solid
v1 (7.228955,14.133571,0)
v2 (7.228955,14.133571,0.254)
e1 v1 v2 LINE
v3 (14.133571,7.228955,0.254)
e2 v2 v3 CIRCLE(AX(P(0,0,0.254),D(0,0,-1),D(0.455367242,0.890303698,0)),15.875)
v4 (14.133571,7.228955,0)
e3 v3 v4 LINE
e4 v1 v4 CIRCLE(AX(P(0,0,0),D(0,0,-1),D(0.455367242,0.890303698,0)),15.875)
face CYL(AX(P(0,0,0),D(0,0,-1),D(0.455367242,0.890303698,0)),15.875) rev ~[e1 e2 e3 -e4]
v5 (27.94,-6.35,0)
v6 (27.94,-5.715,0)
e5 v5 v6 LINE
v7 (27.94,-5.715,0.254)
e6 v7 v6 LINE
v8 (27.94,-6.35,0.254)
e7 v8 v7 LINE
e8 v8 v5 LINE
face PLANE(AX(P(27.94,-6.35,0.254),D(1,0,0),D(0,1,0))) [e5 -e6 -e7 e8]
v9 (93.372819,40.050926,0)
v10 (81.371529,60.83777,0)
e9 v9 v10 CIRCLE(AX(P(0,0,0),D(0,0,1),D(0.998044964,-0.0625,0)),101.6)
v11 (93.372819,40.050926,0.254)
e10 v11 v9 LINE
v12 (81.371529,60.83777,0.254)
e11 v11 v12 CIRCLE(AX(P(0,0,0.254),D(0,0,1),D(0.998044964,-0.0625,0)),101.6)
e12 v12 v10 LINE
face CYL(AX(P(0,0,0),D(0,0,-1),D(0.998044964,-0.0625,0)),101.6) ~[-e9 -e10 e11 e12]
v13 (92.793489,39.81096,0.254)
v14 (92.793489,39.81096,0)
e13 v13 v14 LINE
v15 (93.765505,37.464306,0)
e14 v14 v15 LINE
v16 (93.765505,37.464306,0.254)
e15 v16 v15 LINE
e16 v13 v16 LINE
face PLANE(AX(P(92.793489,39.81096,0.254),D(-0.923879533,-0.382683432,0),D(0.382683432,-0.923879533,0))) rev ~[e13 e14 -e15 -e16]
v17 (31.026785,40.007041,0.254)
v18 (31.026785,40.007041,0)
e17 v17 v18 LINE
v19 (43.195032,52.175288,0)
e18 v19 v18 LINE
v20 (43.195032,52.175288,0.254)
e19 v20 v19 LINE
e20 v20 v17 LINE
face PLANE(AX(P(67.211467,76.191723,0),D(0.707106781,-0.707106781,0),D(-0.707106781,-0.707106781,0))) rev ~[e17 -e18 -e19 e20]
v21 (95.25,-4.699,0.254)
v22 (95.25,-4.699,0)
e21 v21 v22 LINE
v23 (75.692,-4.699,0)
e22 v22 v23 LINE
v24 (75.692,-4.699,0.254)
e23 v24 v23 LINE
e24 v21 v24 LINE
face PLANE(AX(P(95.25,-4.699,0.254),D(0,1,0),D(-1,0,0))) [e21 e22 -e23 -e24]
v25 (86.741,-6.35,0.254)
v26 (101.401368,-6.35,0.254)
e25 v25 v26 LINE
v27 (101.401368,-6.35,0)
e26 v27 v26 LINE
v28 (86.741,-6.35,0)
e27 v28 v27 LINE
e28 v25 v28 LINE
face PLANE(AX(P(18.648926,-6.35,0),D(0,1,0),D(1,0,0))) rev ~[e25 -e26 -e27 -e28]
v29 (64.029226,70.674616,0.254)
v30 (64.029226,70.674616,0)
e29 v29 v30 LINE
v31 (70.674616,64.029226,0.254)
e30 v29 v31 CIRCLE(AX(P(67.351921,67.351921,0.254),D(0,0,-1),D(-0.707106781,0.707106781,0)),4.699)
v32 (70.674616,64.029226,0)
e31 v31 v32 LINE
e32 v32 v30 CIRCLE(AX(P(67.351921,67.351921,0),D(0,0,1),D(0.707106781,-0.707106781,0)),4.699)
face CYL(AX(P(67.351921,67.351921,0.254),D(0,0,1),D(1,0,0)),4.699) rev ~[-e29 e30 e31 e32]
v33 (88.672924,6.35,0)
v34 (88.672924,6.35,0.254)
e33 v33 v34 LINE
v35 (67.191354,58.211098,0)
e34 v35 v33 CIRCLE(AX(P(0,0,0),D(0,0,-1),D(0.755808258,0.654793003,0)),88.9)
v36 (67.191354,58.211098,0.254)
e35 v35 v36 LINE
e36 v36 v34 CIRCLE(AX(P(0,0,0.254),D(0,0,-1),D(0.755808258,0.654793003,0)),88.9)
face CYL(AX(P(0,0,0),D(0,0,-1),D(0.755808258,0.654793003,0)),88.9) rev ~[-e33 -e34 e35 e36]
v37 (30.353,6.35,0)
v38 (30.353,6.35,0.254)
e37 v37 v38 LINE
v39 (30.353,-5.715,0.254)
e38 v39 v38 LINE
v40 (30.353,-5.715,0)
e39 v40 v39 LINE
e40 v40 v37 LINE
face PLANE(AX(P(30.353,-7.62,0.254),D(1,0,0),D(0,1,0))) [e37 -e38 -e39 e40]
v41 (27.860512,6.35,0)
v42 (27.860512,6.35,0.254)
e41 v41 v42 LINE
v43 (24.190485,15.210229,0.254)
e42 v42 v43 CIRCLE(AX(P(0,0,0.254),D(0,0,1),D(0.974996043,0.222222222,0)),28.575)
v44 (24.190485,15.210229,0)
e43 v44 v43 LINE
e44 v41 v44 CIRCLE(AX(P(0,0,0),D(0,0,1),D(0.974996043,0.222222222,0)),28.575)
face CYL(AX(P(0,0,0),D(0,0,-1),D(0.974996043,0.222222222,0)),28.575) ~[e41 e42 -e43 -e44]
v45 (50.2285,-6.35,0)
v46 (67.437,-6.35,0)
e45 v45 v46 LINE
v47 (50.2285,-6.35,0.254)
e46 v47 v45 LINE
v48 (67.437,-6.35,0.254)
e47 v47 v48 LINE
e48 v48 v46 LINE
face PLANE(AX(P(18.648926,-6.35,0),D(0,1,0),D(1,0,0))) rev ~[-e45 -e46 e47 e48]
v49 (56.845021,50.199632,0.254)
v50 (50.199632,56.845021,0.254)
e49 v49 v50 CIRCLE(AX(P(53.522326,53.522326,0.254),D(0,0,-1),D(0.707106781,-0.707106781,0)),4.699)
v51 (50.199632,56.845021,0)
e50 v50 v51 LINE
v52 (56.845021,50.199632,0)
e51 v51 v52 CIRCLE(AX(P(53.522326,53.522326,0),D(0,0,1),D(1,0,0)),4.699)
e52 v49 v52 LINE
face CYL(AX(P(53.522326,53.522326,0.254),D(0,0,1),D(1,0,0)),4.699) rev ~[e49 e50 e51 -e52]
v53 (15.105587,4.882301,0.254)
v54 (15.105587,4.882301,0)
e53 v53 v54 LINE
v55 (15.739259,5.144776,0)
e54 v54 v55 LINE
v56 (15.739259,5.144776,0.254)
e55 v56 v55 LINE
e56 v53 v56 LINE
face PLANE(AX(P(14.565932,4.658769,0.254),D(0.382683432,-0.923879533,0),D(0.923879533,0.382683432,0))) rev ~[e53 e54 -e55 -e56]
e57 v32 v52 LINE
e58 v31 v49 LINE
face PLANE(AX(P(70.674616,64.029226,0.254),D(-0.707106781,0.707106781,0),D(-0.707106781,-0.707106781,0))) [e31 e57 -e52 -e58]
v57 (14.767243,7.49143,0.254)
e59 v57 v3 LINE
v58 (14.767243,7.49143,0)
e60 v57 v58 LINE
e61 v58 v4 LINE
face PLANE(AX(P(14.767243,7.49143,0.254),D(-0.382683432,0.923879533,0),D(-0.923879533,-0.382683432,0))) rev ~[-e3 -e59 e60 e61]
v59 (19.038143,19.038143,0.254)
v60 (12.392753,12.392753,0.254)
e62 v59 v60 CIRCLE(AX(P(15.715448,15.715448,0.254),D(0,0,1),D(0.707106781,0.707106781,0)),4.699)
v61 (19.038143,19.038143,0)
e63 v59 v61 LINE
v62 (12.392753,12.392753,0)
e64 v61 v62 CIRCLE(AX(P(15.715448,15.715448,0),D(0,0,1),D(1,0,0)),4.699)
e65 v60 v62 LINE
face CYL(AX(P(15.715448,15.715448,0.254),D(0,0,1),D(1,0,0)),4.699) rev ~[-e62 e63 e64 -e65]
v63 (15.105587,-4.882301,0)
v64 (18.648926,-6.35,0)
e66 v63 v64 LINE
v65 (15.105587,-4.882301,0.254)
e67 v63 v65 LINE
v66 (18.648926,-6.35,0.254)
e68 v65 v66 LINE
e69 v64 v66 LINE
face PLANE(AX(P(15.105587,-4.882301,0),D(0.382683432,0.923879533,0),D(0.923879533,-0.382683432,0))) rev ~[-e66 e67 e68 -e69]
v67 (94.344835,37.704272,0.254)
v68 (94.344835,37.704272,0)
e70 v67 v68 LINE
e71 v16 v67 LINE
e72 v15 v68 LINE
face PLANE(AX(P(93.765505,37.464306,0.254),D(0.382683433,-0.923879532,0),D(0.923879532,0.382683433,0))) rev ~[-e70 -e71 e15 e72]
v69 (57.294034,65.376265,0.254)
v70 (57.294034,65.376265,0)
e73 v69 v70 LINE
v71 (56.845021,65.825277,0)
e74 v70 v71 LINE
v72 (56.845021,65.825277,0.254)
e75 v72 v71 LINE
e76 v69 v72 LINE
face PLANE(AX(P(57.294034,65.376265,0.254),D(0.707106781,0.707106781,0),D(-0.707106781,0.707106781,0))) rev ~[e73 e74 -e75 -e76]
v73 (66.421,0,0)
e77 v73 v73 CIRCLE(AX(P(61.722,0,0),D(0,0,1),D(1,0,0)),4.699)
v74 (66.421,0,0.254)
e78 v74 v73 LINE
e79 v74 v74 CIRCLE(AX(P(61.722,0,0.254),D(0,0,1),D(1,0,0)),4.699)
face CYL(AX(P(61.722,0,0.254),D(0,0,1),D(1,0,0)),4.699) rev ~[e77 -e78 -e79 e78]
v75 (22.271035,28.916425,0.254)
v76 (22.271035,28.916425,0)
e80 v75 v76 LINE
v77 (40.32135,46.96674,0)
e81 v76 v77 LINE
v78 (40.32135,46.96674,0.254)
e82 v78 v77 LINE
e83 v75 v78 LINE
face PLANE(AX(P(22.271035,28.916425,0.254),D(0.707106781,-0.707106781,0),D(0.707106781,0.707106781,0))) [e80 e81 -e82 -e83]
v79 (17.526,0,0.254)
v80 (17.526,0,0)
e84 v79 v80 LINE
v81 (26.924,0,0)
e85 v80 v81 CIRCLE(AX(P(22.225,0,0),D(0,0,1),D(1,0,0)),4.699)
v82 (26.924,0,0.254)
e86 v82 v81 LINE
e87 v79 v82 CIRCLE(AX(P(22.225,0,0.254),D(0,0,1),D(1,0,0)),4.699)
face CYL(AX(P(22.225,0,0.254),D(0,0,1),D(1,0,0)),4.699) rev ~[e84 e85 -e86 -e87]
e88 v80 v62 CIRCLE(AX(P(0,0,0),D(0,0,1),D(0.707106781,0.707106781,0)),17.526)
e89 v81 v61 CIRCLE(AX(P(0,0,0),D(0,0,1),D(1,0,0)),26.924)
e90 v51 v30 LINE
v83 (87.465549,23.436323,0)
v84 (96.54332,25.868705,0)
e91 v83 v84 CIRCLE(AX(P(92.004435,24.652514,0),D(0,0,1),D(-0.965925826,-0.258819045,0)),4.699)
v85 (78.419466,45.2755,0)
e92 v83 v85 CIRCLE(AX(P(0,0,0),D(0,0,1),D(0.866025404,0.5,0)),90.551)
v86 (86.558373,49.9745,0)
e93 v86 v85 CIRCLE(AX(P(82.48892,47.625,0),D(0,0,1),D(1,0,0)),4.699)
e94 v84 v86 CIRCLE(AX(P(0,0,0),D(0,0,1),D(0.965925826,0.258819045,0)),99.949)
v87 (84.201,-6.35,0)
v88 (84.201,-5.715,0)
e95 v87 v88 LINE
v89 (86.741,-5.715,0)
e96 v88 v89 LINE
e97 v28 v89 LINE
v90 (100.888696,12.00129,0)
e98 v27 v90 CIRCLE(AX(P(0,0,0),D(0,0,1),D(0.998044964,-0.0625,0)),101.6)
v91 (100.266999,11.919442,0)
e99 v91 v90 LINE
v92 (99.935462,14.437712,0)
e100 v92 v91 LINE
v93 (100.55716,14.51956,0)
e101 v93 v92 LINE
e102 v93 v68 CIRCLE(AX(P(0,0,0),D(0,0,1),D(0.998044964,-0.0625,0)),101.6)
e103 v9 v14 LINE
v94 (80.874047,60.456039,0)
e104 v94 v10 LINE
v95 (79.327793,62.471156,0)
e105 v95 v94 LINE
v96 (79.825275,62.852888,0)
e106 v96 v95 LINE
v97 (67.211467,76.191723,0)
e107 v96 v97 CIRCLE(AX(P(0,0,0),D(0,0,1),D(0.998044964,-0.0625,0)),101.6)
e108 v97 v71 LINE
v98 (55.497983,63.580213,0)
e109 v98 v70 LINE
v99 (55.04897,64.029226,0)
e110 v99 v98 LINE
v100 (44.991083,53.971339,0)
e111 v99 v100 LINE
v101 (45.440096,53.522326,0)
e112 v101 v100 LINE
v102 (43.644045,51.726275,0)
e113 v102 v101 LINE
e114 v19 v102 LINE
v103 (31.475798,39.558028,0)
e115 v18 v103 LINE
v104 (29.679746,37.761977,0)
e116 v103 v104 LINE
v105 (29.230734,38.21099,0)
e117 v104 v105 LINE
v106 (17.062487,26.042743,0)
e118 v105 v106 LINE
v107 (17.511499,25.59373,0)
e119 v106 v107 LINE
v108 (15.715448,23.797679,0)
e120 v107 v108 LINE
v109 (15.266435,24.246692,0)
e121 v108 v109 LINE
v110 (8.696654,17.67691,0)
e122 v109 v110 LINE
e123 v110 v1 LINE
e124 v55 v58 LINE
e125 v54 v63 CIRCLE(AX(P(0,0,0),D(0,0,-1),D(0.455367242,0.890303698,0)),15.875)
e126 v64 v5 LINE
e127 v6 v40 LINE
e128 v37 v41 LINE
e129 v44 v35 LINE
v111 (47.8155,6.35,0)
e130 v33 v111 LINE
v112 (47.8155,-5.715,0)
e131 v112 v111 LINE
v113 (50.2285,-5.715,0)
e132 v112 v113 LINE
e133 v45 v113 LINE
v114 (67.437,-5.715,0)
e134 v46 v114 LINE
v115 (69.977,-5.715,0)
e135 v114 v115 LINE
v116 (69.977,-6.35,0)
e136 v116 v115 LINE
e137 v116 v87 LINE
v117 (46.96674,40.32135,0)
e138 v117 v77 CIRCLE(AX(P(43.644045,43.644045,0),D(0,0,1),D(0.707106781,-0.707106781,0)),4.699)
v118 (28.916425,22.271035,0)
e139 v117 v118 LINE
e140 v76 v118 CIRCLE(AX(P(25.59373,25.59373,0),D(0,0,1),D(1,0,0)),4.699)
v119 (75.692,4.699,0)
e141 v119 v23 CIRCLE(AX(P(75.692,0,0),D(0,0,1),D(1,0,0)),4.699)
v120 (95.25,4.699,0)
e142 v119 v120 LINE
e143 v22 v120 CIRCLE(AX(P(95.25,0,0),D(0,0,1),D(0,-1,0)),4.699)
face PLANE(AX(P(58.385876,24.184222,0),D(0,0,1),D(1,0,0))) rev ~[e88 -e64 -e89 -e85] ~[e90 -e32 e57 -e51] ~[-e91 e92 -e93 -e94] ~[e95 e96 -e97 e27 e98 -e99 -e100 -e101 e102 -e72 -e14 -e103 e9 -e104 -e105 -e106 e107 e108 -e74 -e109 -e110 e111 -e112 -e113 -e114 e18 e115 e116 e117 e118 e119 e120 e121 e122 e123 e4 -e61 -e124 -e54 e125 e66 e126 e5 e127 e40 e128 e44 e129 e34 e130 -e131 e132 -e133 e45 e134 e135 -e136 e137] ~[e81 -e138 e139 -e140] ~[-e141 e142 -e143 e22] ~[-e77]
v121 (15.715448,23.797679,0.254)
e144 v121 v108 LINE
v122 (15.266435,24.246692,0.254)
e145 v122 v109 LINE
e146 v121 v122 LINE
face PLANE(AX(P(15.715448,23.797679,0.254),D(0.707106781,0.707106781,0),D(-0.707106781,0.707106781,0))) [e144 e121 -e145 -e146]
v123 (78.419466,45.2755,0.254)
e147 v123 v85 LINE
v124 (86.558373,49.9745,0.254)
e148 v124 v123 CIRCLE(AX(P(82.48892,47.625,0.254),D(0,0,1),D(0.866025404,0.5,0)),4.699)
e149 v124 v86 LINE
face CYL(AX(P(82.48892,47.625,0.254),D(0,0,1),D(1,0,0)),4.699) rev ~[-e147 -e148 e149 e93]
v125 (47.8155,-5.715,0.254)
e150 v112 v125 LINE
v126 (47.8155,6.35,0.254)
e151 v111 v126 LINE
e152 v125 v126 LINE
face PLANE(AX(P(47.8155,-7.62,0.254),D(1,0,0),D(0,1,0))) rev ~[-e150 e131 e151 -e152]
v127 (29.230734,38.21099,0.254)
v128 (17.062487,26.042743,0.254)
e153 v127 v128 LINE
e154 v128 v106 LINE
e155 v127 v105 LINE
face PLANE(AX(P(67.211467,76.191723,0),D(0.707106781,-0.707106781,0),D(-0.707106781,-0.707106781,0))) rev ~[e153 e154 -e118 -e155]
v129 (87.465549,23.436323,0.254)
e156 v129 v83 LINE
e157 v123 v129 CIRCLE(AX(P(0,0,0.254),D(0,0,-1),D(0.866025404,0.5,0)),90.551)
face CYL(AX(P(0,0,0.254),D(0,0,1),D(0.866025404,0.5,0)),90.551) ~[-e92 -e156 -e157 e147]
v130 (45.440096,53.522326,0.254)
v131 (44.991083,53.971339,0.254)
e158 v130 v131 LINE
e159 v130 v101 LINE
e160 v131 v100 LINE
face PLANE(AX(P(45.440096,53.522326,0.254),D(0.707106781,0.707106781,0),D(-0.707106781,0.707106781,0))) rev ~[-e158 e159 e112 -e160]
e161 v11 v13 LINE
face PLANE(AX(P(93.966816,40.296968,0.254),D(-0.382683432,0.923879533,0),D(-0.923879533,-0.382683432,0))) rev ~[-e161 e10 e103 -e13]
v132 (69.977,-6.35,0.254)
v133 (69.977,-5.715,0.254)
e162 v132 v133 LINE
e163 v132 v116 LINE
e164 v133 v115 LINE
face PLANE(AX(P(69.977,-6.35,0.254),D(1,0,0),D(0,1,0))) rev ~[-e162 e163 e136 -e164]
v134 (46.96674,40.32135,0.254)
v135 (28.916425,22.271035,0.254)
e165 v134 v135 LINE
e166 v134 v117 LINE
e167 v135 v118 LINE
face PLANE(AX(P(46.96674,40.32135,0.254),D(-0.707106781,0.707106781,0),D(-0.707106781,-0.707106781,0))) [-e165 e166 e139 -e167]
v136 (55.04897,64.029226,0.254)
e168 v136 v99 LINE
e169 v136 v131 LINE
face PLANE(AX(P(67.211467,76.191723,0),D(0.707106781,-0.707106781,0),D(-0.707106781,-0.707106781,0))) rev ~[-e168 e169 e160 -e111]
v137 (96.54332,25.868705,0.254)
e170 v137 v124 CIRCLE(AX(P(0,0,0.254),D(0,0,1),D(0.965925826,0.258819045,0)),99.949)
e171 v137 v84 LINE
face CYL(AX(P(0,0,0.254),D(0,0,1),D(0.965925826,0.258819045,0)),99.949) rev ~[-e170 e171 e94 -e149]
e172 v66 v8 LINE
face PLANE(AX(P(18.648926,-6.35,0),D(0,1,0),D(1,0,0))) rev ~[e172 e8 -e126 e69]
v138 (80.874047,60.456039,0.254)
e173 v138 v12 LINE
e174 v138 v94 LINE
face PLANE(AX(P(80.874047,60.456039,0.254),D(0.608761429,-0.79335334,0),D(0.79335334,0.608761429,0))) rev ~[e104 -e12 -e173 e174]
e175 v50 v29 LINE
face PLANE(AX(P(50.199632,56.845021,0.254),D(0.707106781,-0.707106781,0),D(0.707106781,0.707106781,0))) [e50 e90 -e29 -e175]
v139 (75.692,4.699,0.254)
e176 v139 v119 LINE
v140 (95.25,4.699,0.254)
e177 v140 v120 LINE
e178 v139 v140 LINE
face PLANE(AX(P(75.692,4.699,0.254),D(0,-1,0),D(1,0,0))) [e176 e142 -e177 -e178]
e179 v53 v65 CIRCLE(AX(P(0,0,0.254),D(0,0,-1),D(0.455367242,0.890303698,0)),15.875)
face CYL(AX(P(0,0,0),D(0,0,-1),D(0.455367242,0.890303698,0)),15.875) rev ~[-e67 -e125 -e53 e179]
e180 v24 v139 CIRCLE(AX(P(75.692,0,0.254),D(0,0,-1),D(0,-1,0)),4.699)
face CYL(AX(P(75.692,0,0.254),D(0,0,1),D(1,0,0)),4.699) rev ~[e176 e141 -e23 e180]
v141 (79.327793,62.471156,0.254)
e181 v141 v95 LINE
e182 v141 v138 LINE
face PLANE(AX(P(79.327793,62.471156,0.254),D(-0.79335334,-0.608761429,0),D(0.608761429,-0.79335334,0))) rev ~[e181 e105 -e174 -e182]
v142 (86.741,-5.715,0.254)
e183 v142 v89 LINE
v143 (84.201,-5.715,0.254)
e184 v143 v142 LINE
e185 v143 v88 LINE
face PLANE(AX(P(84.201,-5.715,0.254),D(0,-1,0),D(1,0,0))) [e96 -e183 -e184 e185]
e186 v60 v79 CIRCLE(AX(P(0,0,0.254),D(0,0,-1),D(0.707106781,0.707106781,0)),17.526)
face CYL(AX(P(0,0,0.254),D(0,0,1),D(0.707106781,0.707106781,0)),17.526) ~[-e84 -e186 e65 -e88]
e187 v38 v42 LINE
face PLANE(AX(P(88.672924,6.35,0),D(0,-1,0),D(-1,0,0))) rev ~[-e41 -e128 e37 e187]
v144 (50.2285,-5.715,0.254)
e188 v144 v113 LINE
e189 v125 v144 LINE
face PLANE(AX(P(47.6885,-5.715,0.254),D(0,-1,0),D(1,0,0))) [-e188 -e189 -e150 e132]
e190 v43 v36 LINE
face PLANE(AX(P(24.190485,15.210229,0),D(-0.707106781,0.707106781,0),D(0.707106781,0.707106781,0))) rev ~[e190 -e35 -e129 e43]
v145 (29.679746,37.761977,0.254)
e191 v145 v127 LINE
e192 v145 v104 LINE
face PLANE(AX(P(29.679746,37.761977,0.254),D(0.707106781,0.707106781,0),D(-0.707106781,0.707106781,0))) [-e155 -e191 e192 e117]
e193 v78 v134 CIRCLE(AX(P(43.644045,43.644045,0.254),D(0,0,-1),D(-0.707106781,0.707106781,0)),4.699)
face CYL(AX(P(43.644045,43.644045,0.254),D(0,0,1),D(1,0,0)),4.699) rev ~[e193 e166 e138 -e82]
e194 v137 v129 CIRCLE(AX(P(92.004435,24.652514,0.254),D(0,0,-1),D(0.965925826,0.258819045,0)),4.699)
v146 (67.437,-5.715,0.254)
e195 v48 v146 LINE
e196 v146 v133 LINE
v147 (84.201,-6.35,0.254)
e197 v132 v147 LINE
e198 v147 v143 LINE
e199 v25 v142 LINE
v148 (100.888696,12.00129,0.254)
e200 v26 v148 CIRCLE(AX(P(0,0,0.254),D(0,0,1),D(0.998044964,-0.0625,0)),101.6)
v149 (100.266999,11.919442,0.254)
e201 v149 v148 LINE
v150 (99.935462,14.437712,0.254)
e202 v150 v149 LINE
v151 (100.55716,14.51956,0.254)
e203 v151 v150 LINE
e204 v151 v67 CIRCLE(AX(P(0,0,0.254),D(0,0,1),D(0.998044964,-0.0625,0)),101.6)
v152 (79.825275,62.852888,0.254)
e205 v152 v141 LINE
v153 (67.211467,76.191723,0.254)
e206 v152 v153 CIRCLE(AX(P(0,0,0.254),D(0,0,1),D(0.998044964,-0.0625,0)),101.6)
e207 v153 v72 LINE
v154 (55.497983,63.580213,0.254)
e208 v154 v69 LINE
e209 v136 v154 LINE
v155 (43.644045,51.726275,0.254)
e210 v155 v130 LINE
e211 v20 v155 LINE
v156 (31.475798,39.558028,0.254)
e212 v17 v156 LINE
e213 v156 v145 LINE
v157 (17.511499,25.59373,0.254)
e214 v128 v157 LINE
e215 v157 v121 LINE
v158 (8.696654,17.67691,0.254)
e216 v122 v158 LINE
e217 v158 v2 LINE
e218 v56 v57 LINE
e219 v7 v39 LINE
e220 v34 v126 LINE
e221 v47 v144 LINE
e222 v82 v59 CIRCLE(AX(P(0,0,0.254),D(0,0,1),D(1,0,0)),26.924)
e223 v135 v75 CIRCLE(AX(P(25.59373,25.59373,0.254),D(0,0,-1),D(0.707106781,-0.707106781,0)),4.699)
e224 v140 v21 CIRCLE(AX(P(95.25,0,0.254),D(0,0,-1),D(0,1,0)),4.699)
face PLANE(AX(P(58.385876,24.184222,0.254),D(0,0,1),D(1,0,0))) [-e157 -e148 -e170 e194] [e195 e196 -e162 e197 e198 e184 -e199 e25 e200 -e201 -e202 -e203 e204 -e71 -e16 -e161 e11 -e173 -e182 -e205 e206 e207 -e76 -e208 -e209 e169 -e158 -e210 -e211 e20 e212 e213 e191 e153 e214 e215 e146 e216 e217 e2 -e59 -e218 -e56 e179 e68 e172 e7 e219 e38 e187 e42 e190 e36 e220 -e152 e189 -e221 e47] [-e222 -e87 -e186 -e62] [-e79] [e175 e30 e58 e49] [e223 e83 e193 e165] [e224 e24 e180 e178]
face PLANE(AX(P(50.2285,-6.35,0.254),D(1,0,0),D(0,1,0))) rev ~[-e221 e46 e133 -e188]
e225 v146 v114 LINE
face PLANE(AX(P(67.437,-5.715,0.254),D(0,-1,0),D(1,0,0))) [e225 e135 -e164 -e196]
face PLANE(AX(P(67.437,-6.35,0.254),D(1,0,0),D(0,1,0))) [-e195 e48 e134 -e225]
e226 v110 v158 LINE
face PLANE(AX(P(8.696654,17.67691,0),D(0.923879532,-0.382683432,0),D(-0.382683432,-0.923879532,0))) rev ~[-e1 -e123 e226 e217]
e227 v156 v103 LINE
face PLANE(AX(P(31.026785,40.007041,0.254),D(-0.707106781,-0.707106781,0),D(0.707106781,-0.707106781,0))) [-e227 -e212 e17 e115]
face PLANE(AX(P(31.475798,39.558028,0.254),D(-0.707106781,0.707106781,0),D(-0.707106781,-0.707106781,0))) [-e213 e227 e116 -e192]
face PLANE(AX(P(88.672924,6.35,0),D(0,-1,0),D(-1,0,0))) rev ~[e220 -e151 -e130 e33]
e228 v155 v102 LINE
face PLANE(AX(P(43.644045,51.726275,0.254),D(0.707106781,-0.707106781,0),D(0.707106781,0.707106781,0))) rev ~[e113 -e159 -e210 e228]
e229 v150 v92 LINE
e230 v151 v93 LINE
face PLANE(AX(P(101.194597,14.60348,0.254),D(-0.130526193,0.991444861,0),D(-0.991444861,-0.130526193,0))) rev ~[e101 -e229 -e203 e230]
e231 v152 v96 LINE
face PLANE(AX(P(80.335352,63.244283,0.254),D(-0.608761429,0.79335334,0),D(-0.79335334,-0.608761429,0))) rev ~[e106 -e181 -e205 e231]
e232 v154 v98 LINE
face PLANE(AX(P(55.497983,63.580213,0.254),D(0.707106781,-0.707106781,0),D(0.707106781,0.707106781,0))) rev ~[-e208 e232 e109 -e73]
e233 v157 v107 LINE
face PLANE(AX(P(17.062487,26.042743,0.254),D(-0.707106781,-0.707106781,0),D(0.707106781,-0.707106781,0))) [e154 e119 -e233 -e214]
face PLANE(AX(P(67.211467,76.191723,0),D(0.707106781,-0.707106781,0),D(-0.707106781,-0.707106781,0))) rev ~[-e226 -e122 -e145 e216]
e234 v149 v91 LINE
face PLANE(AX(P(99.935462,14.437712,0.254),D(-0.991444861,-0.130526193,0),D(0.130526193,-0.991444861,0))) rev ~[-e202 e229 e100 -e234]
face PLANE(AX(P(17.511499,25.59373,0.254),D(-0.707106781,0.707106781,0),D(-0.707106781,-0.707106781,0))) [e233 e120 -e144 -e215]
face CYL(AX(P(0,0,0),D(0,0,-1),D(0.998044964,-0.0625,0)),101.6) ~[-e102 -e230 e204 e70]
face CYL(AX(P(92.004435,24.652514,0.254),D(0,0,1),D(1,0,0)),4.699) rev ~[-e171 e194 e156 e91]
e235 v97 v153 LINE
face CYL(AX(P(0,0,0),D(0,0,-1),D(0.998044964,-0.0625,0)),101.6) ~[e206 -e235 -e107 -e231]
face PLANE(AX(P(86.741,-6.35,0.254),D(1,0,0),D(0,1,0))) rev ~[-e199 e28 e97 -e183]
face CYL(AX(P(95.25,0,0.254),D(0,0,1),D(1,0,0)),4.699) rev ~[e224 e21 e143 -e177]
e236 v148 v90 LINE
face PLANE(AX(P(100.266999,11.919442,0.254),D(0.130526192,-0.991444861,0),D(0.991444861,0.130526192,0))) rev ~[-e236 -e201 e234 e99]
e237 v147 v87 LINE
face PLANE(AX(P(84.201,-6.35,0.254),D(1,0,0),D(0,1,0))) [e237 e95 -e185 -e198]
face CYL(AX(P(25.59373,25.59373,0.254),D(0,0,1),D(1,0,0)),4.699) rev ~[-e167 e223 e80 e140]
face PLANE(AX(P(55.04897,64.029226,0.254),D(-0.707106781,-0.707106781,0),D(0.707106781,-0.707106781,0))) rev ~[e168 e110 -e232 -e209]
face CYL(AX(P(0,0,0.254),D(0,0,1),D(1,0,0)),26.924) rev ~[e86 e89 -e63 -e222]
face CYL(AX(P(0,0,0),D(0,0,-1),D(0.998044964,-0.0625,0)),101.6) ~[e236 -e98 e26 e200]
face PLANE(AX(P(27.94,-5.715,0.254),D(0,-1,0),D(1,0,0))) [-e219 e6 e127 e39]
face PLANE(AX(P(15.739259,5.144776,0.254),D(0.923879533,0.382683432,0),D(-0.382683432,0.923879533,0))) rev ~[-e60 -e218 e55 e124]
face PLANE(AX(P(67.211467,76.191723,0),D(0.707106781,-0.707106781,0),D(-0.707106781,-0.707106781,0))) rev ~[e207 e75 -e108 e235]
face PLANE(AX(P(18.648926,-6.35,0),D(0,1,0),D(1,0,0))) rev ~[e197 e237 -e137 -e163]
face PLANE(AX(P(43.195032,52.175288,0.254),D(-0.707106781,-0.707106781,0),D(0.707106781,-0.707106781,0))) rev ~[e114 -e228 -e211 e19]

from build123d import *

# Parameters (mm, degrees)
BOSS_EXTRUDE1_DEPTH = 0.254
SKETCH2_R           = 4.699
CUT_EXTRUDE1_DEPTH  = 1.254
SKETCH3_W           = 2.54
SKETCH3_H           = 0.635
CUT_EXTRUDE2_DEPTH  = 1.254
CUT_EXTRUDE4_DEPTH  = 1.254
SKETCH5_W           = 17.4625
SKETCH5_H           = 15.24
CUT_EXTRUDE5_DEPTH  = 1.254


with BuildPart() as part:
    # Sketch1 → Boss-Extrude1 (new body)
    with BuildSketch(Plane.XY):
        with BuildLine():
            Line((67.21146711, 76.191723231), (8.696654013, 17.676910134))
            Line((8.696654013, 17.676910134), (7.228954972, 14.133571205))
            ThreePointArc((7.228954972, 14.133571205), (14.666587579, 6.075099489), (15.105587123, -4.88230096))
            Line((15.105587123, -4.88230096), (18.648926052, -6.35))
            Line((18.648926052, -6.35), (101.401368334, -6.35))
            ThreePointArc((101.401368334, -6.35), (93.866160503, 38.880636728), (67.21146711, 76.191723231))
        make_face()
        with BuildLine():
            Line((88.672924278, 6.35), (27.86051193, 6.35))
            ThreePointArc((27.86051193, 6.35), (26.399857642, 10.93517908), (24.190484974, 15.210228852))
            Line((24.190484974, 15.210228852), (67.191354125, 58.211098004))
            ThreePointArc((67.191354125, 58.211098004), (82.13289044, 34.020557137), (88.672924278, 6.35))
        make_face(mode=Mode.SUBTRACT)
    extrude(amount=BOSS_EXTRUDE1_DEPTH)

    # Sketch2 → Cut-Extrude1 (cut, through all)
    with BuildSketch(Plane.XY.offset(0.254)):
        with Locations((22.225, 0)):
            Circle(SKETCH2_R)
        with Locations((36.195, 0)):
            Circle(SKETCH2_R)
        with Locations((61.722, 0)):
            Circle(SKETCH2_R)
        with Locations((75.692, 0)):
            Circle(SKETCH2_R)
        with Locations((95.25, 0)):
            Circle(SKETCH2_R)
        with Locations((15.715448212, 15.715448212)):
            Circle(SKETCH2_R)
        with Locations((25.593729945, 25.593729945)):
            Circle(SKETCH2_R)
        with Locations((43.644044748, 43.644044748)):
            Circle(SKETCH2_R)
        with Locations((53.522326482, 53.522326482)):
            Circle(SKETCH2_R)
        with Locations((92.004434954, 24.652514046)):
            Circle(SKETCH2_R)
        with Locations((82.48891971, 47.625)):
            Circle(SKETCH2_R)
        with Locations((67.351920908, 67.351920908)):
            Circle(SKETCH2_R)
    extrude(amount=-CUT_EXTRUDE1_DEPTH, mode=Mode.SUBTRACT)

    # Sketch3 → Cut-Extrude2 (cut, through all)
    with BuildSketch(Plane.XY.offset(0.254)):
        Polygon((15.266435406, 24.246691527), (17.06248663, 26.042742751), (17.511499436, 25.593729945), (15.715448212, 23.797678721), align=None)
        Polygon((44.991083167, 53.971339288), (43.195031942, 52.175288063), (43.644044748, 51.726275257), (45.440095973, 53.522326482), align=None)
        with Locations((29.21, -6.0325)):
            Rectangle(SKETCH3_W, SKETCH3_H)
        with Locations((68.707, -6.0325)):
            Rectangle(SKETCH3_W, SKETCH3_H)
        Polygon((29.230733674, 38.210989795), (31.026784898, 40.007041019), (31.475797704, 39.558028213), (29.67974648, 37.761976989), align=None)
        Polygon((56.845021246, 65.825277367), (55.048970022, 64.029226143), (55.497982828, 63.580213337), (57.294034052, 65.376264561), align=None)
        with Locations((48.9585, -6.0325)):
            Rectangle(SKETCH3_W, SKETCH3_H)
        with Locations((85.471, -6.0325)):
            Rectangle(SKETCH3_W, SKETCH3_H)
        Polygon((99.935462164, 14.437711971), (100.266998693, 11.919442024), (101.526133667, 12.085210288), (101.194597138, 14.603480236), align=None)
        Polygon((93.765504959, 37.464305742), (94.938831965, 37.950313702), (93.966816047, 40.296967714), (92.793489041, 39.810959755), align=None)
        Polygon((79.327792988, 62.471156422), (80.874047017, 60.456038938), (81.88160576, 61.229165953), (80.33535173, 63.244283437), align=None)
        Polygon((13.593916116, 7.005422516), (14.565932035, 4.658768503), (15.739259041, 5.144776462), (14.767243123, 7.491430475), align=None)
    extrude(amount=-CUT_EXTRUDE2_DEPTH, mode=Mode.SUBTRACT)

    # Sketch6 → Cut-Extrude4 (cut, through all)
    with BuildSketch(Plane.XY.offset(0.254)):
        with BuildLine():
            Line((22.27103518, 28.91642471), (40.321349984, 46.966739513))
            ThreePointArc((40.321349984, 46.966739513), (46.966739513, 46.966739513), (46.966739513, 40.321349984))
            Line((46.966739513, 40.321349984), (28.91642471, 22.27103518))
            ThreePointArc((28.91642471, 22.27103518), (22.27103518, 22.27103518), (22.27103518, 28.91642471))
        make_face()
        with BuildLine():
            Line((50.199631717, 56.845021246), (64.029226143, 70.674615673))
            ThreePointArc((64.029226143, 70.674615673), (70.674615673, 70.674615673), (70.674615673, 64.029226143))
            Line((70.674615673, 64.029226143), (56.845021246, 50.199631717))
            ThreePointArc((56.845021246, 50.199631717), (50.199631717, 50.199631717), (50.199631717, 56.845021246))
        make_face()
        with BuildLine():
            Line((95.25, -4.699), (75.692, -4.699))
            ThreePointArc((75.692, -4.699), (70.993, 0), (75.692, 4.699))
            Line((75.692, 4.699), (95.25, 4.699))
            ThreePointArc((95.25, 4.699), (99.949, 0), (95.25, -4.699))
        make_face()
        with BuildLine():
            ThreePointArc((26.924, 0), (24.874532533, 10.303368733), (19.038142977, 19.038142977))
            ThreePointArc((19.038142977, 19.038142977), (12.392753447, 19.038142977), (12.392753447, 12.392753447))
            ThreePointArc((12.392753447, 12.392753447), (16.191912687, 6.706909836), (17.526, 0))
            ThreePointArc((17.526, 0), (22.225, -4.699), (26.924, 0))
        make_face()
        with BuildLine():
            ThreePointArc((96.543320412, 25.868704739), (92.340835395, 38.248826381), (86.558373083, 49.9745))
            ThreePointArc((86.558373083, 49.9745), (80.13941971, 51.694453372), (78.419466338, 45.2755))
            ThreePointArc((78.419466338, 45.2755), (83.658215548, 34.652367484), (87.465549496, 23.436323353))
            ThreePointArc((87.465549496, 23.436323353), (93.220625647, 20.113628588), (96.543320412, 25.868704739))
        make_face()
    extrude(amount=-CUT_EXTRUDE4_DEPTH, mode=Mode.SUBTRACT)

    # Sketch5 → Cut-Extrude5 (cut, through all)
    with BuildSketch(Plane.XY.offset(0.254)):
        with Locations((39.08425, 0)):
            Rectangle(SKETCH5_W, SKETCH5_H)
    extrude(amount=-CUT_EXTRUDE5_DEPTH, mode=Mode.SUBTRACT)


solid = part.part
